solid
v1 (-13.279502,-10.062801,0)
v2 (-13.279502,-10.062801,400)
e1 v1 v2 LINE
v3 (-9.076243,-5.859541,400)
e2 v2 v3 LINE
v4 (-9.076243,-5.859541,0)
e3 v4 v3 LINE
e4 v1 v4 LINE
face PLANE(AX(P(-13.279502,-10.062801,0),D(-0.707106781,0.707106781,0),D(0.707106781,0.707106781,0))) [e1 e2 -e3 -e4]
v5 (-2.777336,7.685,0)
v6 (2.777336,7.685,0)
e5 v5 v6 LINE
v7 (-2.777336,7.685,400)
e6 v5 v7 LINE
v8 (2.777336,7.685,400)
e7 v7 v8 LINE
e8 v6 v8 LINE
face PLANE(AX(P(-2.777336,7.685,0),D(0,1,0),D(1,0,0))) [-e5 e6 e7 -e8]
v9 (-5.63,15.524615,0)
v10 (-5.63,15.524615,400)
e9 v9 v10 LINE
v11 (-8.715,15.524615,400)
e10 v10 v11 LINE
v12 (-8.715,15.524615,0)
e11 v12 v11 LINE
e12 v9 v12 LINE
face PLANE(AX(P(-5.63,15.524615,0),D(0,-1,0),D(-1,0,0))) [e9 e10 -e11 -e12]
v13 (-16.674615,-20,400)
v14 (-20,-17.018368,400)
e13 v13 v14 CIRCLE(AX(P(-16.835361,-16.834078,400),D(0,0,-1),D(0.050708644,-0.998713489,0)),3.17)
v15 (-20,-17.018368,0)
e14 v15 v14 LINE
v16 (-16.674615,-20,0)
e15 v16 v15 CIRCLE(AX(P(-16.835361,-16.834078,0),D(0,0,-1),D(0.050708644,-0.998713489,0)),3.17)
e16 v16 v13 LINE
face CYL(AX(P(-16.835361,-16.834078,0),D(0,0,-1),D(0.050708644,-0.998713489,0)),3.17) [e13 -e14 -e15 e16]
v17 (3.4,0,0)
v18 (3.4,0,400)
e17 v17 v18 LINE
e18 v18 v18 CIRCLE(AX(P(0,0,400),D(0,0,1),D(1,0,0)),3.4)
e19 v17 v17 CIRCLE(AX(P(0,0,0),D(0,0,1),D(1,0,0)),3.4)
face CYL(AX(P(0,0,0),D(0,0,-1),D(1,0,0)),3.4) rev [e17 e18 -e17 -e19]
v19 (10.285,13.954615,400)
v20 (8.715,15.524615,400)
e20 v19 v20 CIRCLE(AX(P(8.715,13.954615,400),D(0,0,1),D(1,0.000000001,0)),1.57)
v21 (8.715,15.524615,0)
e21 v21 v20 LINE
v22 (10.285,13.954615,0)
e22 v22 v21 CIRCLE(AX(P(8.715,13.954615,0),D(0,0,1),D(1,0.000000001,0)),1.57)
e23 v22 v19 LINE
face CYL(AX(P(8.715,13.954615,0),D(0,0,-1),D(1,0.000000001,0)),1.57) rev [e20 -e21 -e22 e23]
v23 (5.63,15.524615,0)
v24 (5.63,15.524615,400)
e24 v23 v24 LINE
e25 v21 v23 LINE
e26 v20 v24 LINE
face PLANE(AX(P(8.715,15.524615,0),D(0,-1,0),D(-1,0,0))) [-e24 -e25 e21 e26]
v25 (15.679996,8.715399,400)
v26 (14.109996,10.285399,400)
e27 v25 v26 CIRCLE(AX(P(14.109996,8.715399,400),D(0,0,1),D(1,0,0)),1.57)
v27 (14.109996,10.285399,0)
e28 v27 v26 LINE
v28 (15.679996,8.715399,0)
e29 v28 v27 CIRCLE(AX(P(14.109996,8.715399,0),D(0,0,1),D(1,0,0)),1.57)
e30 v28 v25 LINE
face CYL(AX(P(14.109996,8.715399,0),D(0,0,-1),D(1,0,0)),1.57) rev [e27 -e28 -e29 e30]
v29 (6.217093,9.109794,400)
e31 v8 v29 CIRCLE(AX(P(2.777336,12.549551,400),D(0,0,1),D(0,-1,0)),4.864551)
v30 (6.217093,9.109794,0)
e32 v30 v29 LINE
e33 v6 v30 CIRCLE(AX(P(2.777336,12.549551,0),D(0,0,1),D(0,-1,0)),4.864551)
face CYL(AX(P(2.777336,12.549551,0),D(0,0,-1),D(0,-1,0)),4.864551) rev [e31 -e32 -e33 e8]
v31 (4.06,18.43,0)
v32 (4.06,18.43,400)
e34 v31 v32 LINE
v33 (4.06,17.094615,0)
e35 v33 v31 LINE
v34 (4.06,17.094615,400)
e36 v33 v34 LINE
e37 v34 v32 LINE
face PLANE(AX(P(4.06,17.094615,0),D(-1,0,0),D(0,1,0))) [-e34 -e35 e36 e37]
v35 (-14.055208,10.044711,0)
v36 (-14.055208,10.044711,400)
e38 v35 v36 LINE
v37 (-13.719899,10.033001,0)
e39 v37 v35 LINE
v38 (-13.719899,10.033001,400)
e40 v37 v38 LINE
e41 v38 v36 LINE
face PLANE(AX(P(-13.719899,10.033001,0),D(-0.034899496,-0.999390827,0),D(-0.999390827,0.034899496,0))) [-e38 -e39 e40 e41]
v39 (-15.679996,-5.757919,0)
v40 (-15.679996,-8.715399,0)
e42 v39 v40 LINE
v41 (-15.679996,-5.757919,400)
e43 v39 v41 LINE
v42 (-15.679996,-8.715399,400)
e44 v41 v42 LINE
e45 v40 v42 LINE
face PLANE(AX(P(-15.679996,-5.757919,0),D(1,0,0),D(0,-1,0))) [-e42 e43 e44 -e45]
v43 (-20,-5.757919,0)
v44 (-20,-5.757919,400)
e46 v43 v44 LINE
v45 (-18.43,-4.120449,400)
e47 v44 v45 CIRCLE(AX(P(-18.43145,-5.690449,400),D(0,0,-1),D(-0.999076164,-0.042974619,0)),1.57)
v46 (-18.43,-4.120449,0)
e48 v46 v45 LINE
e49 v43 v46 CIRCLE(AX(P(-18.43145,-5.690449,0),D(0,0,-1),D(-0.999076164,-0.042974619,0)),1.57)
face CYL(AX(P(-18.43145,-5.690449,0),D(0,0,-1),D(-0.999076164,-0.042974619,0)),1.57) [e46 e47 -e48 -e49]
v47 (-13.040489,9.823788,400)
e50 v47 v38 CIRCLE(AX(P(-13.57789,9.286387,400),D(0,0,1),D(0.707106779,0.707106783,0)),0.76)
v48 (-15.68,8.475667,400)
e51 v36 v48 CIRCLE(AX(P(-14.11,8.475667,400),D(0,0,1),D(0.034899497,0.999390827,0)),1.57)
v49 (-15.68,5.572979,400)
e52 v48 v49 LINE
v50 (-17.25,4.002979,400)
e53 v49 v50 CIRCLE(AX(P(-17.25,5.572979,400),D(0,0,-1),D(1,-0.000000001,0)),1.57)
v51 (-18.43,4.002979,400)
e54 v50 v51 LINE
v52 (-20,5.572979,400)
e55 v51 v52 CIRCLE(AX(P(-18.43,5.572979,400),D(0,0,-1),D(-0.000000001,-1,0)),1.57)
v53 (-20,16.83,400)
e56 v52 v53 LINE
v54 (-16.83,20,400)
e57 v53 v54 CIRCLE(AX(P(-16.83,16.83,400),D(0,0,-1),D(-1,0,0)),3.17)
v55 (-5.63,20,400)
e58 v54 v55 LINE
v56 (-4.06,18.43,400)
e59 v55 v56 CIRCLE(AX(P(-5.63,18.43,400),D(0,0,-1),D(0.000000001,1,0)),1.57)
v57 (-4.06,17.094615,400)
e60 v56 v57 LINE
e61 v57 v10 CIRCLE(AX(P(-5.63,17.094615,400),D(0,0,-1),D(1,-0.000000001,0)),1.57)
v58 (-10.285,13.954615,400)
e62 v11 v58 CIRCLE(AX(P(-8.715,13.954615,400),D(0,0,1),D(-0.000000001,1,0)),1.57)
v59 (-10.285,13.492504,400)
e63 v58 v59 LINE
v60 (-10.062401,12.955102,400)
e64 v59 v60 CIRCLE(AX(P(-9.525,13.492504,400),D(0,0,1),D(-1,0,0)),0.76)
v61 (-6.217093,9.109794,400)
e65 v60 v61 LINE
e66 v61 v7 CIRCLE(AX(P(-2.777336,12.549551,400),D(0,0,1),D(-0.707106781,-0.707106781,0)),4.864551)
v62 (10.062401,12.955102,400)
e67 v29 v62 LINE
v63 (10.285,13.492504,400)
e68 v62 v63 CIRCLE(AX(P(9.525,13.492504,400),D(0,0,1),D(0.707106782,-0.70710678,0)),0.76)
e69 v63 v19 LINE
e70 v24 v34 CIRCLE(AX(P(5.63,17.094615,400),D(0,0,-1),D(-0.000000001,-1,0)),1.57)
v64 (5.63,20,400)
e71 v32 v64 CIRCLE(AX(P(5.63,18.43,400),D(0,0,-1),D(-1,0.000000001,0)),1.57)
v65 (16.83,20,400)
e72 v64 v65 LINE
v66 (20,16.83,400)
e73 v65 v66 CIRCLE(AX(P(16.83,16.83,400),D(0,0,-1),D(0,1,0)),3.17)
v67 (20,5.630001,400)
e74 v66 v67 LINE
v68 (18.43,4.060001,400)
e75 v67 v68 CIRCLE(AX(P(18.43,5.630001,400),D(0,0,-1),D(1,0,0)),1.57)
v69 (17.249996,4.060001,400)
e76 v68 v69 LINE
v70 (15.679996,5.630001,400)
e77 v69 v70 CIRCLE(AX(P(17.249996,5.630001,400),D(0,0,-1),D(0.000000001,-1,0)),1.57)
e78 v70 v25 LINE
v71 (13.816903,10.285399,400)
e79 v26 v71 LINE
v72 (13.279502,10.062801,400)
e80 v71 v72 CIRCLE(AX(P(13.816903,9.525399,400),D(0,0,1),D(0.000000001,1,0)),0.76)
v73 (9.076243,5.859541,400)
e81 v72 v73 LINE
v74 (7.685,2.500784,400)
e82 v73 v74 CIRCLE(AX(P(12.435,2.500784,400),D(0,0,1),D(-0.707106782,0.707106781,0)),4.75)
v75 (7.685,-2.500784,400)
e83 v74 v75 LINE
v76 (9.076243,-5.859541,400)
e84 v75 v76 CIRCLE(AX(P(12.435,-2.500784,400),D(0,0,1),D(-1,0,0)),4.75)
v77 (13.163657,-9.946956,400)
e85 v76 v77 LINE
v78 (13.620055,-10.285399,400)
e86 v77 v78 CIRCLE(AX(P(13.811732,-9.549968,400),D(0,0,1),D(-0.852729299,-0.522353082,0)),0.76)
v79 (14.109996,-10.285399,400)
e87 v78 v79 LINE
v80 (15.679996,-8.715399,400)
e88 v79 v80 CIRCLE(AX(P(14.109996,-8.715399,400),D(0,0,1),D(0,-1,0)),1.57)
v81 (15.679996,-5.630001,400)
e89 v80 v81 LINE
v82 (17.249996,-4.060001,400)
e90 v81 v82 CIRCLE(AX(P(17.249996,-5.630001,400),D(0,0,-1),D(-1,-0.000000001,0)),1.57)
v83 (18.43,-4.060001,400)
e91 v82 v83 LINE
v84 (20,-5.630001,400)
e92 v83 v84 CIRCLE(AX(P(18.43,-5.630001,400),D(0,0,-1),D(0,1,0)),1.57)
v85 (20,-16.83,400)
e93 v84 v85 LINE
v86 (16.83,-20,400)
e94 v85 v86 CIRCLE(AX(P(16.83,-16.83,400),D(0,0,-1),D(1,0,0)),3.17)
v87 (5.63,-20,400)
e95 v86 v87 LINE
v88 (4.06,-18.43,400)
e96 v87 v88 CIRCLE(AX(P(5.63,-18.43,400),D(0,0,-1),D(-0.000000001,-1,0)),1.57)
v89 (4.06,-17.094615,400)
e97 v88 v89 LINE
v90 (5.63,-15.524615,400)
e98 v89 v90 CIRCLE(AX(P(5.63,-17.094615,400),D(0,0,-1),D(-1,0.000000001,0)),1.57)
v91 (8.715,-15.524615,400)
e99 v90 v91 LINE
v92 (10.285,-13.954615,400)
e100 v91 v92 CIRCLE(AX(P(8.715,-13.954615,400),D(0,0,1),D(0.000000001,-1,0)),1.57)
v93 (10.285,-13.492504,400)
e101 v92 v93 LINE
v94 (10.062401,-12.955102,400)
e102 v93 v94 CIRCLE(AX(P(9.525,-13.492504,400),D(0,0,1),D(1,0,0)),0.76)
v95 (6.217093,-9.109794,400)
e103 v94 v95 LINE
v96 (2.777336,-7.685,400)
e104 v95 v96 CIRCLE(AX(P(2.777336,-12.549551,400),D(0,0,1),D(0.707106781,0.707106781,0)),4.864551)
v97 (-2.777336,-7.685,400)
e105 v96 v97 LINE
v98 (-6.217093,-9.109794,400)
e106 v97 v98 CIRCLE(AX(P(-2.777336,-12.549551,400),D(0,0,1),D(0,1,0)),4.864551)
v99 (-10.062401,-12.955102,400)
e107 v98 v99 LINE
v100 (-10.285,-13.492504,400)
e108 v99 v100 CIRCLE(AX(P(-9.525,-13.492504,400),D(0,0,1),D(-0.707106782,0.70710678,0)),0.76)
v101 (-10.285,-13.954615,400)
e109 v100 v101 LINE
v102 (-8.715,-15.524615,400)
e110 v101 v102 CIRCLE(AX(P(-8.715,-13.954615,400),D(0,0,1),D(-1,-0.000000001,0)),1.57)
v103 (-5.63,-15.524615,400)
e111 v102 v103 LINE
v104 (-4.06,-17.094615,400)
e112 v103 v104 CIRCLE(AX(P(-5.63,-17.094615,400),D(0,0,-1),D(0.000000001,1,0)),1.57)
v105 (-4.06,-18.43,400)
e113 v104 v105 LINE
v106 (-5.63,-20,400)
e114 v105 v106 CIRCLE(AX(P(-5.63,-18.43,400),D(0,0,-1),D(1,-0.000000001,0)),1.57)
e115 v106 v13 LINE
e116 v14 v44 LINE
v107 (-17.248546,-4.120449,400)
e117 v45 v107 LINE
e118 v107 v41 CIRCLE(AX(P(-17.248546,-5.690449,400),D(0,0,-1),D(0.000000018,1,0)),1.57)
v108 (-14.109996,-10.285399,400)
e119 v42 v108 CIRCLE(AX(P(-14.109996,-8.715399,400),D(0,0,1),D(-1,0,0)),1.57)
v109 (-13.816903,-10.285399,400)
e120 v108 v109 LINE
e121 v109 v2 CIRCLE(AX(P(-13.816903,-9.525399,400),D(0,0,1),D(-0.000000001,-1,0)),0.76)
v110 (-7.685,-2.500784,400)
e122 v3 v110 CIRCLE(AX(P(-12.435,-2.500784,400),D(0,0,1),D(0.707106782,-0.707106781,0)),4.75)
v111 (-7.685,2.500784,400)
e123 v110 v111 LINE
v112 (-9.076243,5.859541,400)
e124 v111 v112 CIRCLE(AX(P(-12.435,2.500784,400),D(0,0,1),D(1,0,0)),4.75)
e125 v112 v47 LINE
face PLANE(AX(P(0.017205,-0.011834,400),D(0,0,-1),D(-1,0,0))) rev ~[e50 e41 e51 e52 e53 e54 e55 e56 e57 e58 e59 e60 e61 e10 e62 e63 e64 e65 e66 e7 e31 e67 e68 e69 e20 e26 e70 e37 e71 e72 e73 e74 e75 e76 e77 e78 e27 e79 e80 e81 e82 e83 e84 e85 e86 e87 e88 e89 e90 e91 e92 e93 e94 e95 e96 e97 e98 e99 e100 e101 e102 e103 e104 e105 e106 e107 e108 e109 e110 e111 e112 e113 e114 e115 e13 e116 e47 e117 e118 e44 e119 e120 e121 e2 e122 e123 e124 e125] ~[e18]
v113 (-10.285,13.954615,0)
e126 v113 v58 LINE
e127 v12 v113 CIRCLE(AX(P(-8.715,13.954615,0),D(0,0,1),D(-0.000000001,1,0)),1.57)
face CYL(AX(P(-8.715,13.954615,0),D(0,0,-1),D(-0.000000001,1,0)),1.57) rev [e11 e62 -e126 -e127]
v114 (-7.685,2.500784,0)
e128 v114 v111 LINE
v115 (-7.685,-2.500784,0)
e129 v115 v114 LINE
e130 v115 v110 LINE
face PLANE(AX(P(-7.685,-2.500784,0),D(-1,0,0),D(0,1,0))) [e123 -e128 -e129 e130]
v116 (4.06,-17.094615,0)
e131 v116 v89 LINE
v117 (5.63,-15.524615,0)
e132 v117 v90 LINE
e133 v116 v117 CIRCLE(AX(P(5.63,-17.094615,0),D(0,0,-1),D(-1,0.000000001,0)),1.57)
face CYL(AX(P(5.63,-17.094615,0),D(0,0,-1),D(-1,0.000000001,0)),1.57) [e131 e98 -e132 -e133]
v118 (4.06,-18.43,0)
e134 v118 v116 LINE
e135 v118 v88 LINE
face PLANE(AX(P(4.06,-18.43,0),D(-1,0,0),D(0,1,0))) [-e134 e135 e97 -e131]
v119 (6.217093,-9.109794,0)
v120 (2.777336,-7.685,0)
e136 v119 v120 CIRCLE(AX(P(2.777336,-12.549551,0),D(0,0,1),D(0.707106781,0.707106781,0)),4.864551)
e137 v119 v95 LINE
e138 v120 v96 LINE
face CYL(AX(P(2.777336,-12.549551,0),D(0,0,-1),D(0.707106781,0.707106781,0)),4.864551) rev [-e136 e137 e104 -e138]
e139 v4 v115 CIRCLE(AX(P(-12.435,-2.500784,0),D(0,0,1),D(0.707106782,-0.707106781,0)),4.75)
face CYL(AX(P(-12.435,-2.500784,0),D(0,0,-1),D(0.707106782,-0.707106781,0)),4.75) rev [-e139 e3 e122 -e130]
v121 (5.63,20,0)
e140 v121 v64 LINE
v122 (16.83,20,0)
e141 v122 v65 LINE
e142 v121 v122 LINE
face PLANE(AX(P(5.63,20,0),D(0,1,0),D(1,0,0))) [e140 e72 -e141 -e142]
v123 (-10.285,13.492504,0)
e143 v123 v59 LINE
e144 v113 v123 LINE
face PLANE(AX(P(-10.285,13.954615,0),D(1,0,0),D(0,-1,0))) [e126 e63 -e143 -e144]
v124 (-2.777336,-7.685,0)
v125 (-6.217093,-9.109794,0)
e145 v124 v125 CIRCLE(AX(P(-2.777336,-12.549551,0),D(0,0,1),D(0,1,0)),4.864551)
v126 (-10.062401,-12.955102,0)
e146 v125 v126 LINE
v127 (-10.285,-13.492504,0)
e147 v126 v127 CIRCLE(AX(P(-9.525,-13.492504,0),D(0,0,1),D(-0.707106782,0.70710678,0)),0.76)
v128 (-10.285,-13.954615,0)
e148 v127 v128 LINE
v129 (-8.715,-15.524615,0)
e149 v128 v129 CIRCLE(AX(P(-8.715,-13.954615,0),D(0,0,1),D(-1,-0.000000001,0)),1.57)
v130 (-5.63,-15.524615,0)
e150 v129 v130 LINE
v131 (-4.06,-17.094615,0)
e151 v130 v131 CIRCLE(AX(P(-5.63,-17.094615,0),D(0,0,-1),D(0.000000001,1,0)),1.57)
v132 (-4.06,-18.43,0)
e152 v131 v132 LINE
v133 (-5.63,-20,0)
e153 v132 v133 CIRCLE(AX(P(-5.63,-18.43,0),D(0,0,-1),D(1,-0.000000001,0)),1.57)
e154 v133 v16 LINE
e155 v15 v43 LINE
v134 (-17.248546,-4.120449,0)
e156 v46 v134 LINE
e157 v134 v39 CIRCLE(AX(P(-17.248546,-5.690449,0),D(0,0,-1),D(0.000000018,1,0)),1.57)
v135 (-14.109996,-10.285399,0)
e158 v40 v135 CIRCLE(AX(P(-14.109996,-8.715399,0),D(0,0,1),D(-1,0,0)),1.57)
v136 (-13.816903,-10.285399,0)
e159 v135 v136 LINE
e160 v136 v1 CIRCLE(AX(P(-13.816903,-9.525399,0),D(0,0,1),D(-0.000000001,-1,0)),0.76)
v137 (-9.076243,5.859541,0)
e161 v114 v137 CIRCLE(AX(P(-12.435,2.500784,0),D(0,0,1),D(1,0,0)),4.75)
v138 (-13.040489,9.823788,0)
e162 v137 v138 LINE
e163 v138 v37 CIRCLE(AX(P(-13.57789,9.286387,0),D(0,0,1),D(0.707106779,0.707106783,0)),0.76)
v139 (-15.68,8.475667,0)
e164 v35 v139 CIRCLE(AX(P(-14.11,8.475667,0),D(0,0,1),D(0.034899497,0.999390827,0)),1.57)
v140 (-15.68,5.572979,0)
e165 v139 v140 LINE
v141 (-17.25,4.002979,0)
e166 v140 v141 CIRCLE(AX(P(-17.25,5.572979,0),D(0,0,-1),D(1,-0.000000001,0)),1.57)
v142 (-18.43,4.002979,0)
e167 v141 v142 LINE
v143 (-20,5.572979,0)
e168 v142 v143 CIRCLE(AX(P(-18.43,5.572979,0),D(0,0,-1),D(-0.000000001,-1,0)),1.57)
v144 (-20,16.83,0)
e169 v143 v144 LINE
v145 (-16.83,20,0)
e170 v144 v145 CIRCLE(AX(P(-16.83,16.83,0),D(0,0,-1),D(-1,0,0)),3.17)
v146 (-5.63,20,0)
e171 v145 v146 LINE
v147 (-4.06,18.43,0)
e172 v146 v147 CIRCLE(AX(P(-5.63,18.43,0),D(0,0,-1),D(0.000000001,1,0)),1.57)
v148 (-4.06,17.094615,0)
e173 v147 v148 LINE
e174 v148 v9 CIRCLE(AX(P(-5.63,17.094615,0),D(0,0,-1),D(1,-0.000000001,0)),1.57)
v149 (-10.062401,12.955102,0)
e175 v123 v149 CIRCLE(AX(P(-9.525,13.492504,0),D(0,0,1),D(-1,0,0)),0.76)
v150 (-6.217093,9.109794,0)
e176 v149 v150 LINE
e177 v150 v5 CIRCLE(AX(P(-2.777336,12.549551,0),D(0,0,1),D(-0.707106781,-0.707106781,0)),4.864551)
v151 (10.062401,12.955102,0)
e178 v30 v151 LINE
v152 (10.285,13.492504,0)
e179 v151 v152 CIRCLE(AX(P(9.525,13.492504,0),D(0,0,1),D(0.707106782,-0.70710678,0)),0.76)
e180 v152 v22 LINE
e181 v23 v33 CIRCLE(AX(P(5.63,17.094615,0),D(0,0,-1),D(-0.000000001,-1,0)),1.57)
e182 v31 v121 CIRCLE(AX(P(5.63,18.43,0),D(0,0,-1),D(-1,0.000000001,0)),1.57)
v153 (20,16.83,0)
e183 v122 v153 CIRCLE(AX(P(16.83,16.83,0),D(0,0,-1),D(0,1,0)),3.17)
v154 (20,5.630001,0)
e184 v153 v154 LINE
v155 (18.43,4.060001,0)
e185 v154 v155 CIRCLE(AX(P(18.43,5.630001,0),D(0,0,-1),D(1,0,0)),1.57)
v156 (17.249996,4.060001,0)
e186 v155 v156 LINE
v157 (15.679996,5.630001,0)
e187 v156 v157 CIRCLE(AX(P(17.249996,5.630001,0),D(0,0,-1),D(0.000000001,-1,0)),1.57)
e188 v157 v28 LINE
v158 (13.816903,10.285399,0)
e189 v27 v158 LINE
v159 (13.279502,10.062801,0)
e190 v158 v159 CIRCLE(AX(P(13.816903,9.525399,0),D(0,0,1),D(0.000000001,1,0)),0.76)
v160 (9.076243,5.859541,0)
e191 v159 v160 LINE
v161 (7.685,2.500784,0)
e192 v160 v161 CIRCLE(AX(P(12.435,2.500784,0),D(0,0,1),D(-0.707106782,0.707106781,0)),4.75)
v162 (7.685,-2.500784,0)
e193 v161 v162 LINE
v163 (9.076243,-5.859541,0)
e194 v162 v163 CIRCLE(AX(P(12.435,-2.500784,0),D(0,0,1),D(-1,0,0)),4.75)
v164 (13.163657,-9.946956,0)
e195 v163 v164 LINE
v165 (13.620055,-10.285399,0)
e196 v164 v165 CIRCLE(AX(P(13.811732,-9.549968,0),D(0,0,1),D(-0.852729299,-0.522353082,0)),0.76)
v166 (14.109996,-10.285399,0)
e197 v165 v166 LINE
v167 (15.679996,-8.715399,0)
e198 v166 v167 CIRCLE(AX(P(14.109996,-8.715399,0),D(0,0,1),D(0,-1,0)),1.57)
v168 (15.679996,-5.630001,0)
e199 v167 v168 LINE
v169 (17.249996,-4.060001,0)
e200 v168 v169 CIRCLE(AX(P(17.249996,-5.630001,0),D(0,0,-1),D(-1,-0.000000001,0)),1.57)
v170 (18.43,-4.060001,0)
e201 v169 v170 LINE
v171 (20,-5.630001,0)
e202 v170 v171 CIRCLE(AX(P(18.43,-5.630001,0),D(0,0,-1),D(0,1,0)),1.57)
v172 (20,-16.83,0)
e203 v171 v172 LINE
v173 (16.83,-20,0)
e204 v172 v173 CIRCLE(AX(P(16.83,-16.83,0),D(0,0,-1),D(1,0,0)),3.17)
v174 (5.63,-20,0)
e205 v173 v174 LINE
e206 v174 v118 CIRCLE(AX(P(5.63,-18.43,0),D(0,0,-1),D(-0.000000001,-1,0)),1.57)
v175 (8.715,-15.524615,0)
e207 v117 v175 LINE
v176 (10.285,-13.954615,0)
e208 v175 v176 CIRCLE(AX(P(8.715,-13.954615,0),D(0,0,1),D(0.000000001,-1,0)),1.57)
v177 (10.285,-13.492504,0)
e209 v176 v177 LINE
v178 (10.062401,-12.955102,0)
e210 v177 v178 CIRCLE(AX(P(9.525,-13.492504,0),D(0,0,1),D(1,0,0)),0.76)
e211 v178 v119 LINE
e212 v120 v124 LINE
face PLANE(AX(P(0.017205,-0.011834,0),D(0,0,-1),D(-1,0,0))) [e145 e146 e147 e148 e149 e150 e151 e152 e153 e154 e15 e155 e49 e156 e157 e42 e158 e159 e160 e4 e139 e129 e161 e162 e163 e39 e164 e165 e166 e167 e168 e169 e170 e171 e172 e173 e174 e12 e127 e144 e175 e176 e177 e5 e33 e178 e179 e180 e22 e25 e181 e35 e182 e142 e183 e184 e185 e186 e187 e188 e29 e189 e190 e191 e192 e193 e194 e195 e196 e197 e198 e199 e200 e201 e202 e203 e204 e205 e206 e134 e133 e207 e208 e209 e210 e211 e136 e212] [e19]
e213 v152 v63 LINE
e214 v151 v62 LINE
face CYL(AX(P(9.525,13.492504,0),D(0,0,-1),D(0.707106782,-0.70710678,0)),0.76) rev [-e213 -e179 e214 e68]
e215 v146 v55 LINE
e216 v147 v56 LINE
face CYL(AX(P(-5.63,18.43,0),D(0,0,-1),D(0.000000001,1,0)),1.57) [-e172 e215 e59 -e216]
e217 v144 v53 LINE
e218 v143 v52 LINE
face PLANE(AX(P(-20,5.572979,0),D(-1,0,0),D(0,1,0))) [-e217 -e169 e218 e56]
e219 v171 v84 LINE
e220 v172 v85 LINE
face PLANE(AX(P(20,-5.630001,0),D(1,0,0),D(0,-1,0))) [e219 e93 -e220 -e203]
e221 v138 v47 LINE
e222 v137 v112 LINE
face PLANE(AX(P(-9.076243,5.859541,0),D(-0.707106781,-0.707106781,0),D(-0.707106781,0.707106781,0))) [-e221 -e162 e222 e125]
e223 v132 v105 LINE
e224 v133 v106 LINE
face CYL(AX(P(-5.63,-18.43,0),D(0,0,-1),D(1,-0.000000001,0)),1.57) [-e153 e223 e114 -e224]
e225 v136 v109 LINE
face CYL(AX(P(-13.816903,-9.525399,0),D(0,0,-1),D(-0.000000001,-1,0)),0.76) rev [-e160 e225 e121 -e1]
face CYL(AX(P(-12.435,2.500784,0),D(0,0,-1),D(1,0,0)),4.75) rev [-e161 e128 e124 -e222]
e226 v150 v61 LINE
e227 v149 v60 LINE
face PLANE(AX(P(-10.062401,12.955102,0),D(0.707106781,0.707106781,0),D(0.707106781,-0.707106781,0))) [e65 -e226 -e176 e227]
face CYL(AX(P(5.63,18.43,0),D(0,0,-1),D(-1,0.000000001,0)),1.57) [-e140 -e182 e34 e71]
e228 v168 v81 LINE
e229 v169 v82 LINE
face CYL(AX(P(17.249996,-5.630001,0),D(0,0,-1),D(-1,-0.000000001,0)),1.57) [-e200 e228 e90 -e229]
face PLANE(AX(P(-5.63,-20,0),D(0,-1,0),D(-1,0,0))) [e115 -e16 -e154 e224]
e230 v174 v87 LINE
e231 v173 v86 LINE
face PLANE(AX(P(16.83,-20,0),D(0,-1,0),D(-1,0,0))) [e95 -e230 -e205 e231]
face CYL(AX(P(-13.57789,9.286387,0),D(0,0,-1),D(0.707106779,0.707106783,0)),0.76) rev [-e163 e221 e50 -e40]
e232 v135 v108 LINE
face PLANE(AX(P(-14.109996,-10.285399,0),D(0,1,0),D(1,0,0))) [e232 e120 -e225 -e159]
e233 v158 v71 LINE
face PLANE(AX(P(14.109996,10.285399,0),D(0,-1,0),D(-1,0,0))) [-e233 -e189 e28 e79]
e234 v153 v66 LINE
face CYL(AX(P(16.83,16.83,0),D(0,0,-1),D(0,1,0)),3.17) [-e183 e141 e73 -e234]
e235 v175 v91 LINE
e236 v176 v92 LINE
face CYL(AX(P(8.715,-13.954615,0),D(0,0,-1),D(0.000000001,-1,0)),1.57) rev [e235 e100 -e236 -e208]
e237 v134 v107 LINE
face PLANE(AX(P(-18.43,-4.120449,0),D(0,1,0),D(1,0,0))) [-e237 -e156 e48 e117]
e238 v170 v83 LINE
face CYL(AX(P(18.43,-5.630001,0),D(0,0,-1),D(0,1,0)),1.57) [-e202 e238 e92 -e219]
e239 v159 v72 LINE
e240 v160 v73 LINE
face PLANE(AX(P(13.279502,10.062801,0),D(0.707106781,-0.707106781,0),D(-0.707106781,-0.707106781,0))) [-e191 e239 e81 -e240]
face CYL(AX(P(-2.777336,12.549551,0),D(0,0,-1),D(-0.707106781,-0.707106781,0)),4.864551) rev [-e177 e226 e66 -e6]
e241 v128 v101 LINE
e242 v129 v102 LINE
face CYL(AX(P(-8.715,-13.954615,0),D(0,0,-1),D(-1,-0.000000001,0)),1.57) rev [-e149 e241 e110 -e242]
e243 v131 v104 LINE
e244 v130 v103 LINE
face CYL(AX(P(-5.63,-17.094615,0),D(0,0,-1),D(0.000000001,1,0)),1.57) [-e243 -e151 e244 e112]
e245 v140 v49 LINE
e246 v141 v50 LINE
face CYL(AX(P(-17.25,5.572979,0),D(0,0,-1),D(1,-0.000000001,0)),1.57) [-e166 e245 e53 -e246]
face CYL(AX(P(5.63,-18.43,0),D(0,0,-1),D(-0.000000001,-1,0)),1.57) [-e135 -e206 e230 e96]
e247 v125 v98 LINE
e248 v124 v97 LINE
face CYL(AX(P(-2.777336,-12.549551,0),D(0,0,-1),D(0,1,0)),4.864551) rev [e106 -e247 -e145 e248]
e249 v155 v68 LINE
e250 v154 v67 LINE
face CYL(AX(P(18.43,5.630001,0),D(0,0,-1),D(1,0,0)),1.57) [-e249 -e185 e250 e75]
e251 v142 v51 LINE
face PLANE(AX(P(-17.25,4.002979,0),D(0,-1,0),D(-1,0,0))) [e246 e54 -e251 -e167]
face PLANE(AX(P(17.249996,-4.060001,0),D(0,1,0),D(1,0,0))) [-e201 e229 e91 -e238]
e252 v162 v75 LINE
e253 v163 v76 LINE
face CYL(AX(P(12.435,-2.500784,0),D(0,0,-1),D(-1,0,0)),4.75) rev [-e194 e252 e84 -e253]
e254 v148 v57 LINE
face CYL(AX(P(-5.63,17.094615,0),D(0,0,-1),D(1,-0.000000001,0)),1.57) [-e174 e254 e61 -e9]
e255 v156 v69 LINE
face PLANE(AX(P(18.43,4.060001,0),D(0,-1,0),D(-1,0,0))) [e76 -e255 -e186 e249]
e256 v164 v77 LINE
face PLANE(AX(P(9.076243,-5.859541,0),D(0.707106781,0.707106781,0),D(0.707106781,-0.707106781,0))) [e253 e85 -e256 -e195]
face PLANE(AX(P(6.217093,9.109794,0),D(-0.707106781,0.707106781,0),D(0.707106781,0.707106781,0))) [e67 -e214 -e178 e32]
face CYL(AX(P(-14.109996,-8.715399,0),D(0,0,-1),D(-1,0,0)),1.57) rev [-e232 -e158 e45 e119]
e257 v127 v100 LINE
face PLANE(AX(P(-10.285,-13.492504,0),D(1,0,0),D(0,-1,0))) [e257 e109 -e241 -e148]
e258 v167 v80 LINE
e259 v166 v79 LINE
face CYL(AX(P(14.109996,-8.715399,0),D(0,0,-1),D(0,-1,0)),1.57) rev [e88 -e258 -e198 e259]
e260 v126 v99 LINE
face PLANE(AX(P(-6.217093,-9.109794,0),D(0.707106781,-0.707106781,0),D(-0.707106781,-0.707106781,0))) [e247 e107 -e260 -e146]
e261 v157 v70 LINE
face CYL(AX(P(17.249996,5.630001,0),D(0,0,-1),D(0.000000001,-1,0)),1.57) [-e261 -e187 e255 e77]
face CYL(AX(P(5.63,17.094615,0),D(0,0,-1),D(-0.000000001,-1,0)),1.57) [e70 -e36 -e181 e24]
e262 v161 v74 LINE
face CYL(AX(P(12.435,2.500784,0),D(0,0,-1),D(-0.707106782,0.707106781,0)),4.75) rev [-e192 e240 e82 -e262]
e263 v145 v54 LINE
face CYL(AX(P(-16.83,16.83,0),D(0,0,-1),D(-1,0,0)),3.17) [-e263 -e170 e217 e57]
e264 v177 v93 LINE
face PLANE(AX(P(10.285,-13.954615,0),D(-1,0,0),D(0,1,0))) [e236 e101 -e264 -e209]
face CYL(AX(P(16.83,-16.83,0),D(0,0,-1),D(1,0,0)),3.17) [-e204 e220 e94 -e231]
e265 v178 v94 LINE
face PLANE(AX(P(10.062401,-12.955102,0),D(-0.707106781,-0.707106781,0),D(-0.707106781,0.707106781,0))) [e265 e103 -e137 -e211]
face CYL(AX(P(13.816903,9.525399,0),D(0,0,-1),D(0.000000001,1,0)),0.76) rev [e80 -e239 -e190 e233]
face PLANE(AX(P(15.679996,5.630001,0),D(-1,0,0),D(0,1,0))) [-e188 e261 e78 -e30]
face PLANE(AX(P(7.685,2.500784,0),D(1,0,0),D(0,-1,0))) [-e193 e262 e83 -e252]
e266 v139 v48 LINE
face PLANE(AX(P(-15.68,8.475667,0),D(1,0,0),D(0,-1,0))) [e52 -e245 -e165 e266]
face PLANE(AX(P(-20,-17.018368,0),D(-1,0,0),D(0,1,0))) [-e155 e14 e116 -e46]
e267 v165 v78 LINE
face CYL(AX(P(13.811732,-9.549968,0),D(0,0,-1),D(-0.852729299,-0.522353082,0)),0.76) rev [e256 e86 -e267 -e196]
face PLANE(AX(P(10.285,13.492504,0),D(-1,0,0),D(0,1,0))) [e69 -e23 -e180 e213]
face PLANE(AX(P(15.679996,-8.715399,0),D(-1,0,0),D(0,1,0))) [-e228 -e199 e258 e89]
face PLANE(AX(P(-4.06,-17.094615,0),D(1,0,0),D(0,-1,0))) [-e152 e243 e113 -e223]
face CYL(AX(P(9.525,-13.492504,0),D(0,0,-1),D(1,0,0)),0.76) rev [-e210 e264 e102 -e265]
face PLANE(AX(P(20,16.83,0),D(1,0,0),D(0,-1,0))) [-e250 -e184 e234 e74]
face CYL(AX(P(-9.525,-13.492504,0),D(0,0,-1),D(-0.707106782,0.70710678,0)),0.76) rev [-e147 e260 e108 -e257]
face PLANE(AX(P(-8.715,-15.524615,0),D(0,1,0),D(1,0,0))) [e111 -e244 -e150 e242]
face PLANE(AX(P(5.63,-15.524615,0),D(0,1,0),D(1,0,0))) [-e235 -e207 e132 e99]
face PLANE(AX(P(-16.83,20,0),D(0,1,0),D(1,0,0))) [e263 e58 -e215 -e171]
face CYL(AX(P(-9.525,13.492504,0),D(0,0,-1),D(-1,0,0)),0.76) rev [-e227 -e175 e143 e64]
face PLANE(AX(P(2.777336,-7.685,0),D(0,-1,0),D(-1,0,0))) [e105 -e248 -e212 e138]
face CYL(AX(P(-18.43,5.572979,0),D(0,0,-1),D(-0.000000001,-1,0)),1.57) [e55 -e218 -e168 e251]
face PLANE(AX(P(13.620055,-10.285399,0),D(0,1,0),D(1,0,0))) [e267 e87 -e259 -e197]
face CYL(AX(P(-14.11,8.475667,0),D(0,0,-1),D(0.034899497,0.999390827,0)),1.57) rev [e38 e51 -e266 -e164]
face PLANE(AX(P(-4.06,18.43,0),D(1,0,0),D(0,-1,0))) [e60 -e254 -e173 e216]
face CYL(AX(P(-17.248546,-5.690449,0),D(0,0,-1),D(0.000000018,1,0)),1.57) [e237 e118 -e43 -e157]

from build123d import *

# Parameters (mm, degrees)
SKETCH1_R           = 3.4
BOSS_EXTRUDE1_DEPTH = 400


with BuildPart() as part:
    # Sketch1 → Boss-Extrude1 (new body)
    with BuildSketch(Plane.XY):
        with BuildLine():
            Line((-8.715, -15.524615034), (-5.63, -15.524615034))
            ThreePointArc((-5.63, -15.524615034), (-4.519842354, -15.984457388), (-4.06, -17.094615034))
            Line((-4.06, -17.094615034), (-4.06, -18.43))
            ThreePointArc((-4.06, -18.43), (-4.519842354, -19.540157646), (-5.63, -20))
            Line((-5.63, -20), (-16.674615034, -20))
            ThreePointArc((-16.674615034, -20), (-18.951578385, -19.194274381), (-20, -17.018368134))
            Line((-20, -17.018368134), (-20, -5.757918808))
            ThreePointArc((-20, -5.757918808), (-19.564709668, -4.603883664), (-18.43, -4.120449326))
            Line((-18.43, -4.120449326), (-17.248545805, -4.120449326))
            ThreePointArc((-17.248545805, -4.120449326), (-16.114784845, -4.604407881), (-15.67999625, -5.757919334))
            Line((-15.67999625, -5.757919334), (-15.67999625, -8.715399492))
            ThreePointArc((-15.67999625, -8.715399492), (-15.220153896, -9.825557139), (-14.10999625, -10.285399492))
            Line((-14.10999625, -10.285399492), (-13.816903094, -10.285399492))
            ThreePointArc((-13.816903094, -10.285399492), (-13.526063686, -10.227547937), (-13.279501941, -10.062800646))
            Line((-13.279501941, -10.062800646), (-9.076242789, -5.859541495))
            ThreePointArc((-9.076242789, -5.859541495), (-8.046572221, -4.318530588), (-7.685, -2.500784284))
            Line((-7.685, -2.500784284), (-7.685, 2.500784284))
            ThreePointArc((-7.685, 2.500784284), (-8.046572221, 4.318530588), (-9.076242789, 5.859541495))
            Line((-9.076242789, 5.859541495), (-13.040489136, 9.823787841))
            ThreePointArc((-13.040489136, 9.823787841), (-13.354224618, 10.012729352), (-13.71989919, 10.033001362))
            Line((-13.71989919, 10.033001362), (-14.05520779, 10.044710596))
            ThreePointArc((-14.05520779, 10.044710596), (-15.200613642, 9.605030484), (-15.68, 8.475666998))
            Line((-15.68, 8.475666998), (-15.68, 5.572979049))
            ThreePointArc((-15.68, 5.572979049), (-16.139842354, 4.462821403), (-17.25, 4.002979049))
            Line((-17.25, 4.002979049), (-18.43, 4.002979049))
            ThreePointArc((-18.43, 4.002979049), (-19.540157646, 4.462821403), (-20, 5.572979049))
            Line((-20, 5.572979049), (-20, 13.004526564))
            Line((-20, 13.004526564), (-20, 16.83))
            ThreePointArc((-20, 16.83), (-19.071528496, 19.071528496), (-16.83, 20))
            Line((-16.83, 20), (-5.63, 20))
            ThreePointArc((-5.63, 20), (-4.519842354, 19.540157646), (-4.06, 18.43))
            Line((-4.06, 18.43), (-4.06, 17.094615034))
            ThreePointArc((-4.06, 17.094615034), (-4.519842354, 15.984457388), (-5.63, 15.524615034))
            Line((-5.63, 15.524615034), (-8.715, 15.524615034))
            ThreePointArc((-8.715, 15.524615034), (-9.825157646, 15.06477268), (-10.285, 13.954615034))
            Line((-10.285, 13.954615034), (-10.285, 13.492503602))
            ThreePointArc((-10.285, 13.492503602), (-10.227148445, 13.201664194), (-10.062401154, 12.955102448))
            Line((-10.062401154, 12.955102448), (-6.217092793, 9.109794088))
            ThreePointArc((-6.217092793, 9.109794088), (-4.63891877, 8.055291919), (-2.777335583, 7.685))
            Line((-2.777335583, 7.685), (2.777335583, 7.685))
            ThreePointArc((2.777335583, 7.685), (4.63891877, 8.055291919), (6.217092793, 9.109794088))
            Line((6.217092793, 9.109794088), (10.062401154, 12.955102448))
            ThreePointArc((10.062401154, 12.955102448), (10.227148445, 13.201664194), (10.285, 13.492503602))
            Line((10.285, 13.492503602), (10.285, 13.954615034))
            ThreePointArc((10.285, 13.954615034), (9.825157646, 15.06477268), (8.715, 15.524615034))
            Line((8.715, 15.524615034), (5.63, 15.524615034))
            ThreePointArc((5.63, 15.524615034), (4.519842354, 15.984457388), (4.06, 17.094615034))
            Line((4.06, 17.094615034), (4.06, 18.43))
            ThreePointArc((4.06, 18.43), (4.519842354, 19.540157646), (5.63, 20))
            Line((5.63, 20), (12.979635074, 20))
            Line((12.979635074, 20), (16.83, 20))
            ThreePointArc((16.83, 20), (19.071528496, 19.071528496), (20, 16.83))
            Line((20, 16.83), (20, 13.001098436))
            Line((20, 13.001098436), (20, 5.630000526))
            ThreePointArc((20, 5.630000526), (19.540157646, 4.519842879), (18.43, 4.060000526))
            Line((18.43, 4.060000526), (17.24999625, 4.060000526))
            ThreePointArc((17.24999625, 4.060000526), (16.139838603, 4.519842879), (15.67999625, 5.630000526))
            Line((15.67999625, 5.630000526), (15.67999625, 8.715399492))
            ThreePointArc((15.67999625, 8.715399492), (15.220153896, 9.825557139), (14.10999625, 10.285399492))
            Line((14.10999625, 10.285399492), (13.816903094, 10.285399492))
            ThreePointArc((13.816903094, 10.285399492), (13.526063686, 10.227547937), (13.279501941, 10.062800646))
            Line((13.279501941, 10.062800646), (9.076242789, 5.859541495))
            ThreePointArc((9.076242789, 5.859541495), (8.046572221, 4.318530588), (7.685, 2.500784284))
            Line((7.685, 2.500784284), (7.685, -2.500784284))
            ThreePointArc((7.685, -2.500784284), (8.046572221, -4.318530588), (9.076242789, -5.859541495))
            Line((9.076242789, -5.859541495), (13.163657296, -9.946956002))
            ThreePointArc((13.163657296, -9.946956002), (13.35903797, -10.160433474), (13.6200547, -10.285399492))
            Line((13.6200547, -10.285399492), (14.10999625, -10.285399492))
            ThreePointArc((14.10999625, -10.285399492), (15.220153896, -9.825557139), (15.67999625, -8.715399492))
            Line((15.67999625, -8.715399492), (15.67999625, -5.630000526))
            ThreePointArc((15.67999625, -5.630000526), (16.139838603, -4.519842879), (17.24999625, -4.060000526))
            Line((17.24999625, -4.060000526), (18.43, -4.060000526))
            ThreePointArc((18.43, -4.060000526), (19.540157646, -4.519842879), (20, -5.630000526))
            Line((20, -5.630000526), (20, -16.83))
            ThreePointArc((20, -16.83), (19.071528496, -19.071528496), (16.83, -20))
            Line((16.83, -20), (13, -20))
            Line((13, -20), (5.63, -20))
            ThreePointArc((5.63, -20), (4.519842354, -19.540157646), (4.06, -18.43))
            Line((4.06, -18.43), (4.06, -17.094615034))
            ThreePointArc((4.06, -17.094615034), (4.519842354, -15.984457388), (5.63, -15.524615034))
            Line((5.63, -15.524615034), (8.715, -15.524615034))
            ThreePointArc((8.715, -15.524615034), (9.825157646, -15.06477268), (10.285, -13.954615034))
            Line((10.285, -13.954615034), (10.285, -13.492503602))
            ThreePointArc((10.285, -13.492503602), (10.227148445, -13.201664194), (10.062401154, -12.955102448))
            Line((10.062401154, -12.955102448), (6.217092793, -9.109794088))
            ThreePointArc((6.217092793, -9.109794088), (4.63891877, -8.055291919), (2.777335583, -7.685))
            Line((2.777335583, -7.685), (-2.777335583, -7.685))
            ThreePointArc((-2.777335583, -7.685), (-4.63891877, -8.055291919), (-6.217092793, -9.109794088))
            Line((-6.217092793, -9.109794088), (-10.062401154, -12.955102448))
            ThreePointArc((-10.062401154, -12.955102448), (-10.227148445, -13.201664194), (-10.285, -13.492503602))
            Line((-10.285, -13.492503602), (-10.285, -13.954615034))
            ThreePointArc((-10.285, -13.954615034), (-9.825157646, -15.06477268), (-8.715, -15.524615034))
        make_face()
        Circle(SKETCH1_R, mode=Mode.SUBTRACT)
    extrude(amount=BOSS_EXTRUDE1_DEPTH)


solid = part.part
